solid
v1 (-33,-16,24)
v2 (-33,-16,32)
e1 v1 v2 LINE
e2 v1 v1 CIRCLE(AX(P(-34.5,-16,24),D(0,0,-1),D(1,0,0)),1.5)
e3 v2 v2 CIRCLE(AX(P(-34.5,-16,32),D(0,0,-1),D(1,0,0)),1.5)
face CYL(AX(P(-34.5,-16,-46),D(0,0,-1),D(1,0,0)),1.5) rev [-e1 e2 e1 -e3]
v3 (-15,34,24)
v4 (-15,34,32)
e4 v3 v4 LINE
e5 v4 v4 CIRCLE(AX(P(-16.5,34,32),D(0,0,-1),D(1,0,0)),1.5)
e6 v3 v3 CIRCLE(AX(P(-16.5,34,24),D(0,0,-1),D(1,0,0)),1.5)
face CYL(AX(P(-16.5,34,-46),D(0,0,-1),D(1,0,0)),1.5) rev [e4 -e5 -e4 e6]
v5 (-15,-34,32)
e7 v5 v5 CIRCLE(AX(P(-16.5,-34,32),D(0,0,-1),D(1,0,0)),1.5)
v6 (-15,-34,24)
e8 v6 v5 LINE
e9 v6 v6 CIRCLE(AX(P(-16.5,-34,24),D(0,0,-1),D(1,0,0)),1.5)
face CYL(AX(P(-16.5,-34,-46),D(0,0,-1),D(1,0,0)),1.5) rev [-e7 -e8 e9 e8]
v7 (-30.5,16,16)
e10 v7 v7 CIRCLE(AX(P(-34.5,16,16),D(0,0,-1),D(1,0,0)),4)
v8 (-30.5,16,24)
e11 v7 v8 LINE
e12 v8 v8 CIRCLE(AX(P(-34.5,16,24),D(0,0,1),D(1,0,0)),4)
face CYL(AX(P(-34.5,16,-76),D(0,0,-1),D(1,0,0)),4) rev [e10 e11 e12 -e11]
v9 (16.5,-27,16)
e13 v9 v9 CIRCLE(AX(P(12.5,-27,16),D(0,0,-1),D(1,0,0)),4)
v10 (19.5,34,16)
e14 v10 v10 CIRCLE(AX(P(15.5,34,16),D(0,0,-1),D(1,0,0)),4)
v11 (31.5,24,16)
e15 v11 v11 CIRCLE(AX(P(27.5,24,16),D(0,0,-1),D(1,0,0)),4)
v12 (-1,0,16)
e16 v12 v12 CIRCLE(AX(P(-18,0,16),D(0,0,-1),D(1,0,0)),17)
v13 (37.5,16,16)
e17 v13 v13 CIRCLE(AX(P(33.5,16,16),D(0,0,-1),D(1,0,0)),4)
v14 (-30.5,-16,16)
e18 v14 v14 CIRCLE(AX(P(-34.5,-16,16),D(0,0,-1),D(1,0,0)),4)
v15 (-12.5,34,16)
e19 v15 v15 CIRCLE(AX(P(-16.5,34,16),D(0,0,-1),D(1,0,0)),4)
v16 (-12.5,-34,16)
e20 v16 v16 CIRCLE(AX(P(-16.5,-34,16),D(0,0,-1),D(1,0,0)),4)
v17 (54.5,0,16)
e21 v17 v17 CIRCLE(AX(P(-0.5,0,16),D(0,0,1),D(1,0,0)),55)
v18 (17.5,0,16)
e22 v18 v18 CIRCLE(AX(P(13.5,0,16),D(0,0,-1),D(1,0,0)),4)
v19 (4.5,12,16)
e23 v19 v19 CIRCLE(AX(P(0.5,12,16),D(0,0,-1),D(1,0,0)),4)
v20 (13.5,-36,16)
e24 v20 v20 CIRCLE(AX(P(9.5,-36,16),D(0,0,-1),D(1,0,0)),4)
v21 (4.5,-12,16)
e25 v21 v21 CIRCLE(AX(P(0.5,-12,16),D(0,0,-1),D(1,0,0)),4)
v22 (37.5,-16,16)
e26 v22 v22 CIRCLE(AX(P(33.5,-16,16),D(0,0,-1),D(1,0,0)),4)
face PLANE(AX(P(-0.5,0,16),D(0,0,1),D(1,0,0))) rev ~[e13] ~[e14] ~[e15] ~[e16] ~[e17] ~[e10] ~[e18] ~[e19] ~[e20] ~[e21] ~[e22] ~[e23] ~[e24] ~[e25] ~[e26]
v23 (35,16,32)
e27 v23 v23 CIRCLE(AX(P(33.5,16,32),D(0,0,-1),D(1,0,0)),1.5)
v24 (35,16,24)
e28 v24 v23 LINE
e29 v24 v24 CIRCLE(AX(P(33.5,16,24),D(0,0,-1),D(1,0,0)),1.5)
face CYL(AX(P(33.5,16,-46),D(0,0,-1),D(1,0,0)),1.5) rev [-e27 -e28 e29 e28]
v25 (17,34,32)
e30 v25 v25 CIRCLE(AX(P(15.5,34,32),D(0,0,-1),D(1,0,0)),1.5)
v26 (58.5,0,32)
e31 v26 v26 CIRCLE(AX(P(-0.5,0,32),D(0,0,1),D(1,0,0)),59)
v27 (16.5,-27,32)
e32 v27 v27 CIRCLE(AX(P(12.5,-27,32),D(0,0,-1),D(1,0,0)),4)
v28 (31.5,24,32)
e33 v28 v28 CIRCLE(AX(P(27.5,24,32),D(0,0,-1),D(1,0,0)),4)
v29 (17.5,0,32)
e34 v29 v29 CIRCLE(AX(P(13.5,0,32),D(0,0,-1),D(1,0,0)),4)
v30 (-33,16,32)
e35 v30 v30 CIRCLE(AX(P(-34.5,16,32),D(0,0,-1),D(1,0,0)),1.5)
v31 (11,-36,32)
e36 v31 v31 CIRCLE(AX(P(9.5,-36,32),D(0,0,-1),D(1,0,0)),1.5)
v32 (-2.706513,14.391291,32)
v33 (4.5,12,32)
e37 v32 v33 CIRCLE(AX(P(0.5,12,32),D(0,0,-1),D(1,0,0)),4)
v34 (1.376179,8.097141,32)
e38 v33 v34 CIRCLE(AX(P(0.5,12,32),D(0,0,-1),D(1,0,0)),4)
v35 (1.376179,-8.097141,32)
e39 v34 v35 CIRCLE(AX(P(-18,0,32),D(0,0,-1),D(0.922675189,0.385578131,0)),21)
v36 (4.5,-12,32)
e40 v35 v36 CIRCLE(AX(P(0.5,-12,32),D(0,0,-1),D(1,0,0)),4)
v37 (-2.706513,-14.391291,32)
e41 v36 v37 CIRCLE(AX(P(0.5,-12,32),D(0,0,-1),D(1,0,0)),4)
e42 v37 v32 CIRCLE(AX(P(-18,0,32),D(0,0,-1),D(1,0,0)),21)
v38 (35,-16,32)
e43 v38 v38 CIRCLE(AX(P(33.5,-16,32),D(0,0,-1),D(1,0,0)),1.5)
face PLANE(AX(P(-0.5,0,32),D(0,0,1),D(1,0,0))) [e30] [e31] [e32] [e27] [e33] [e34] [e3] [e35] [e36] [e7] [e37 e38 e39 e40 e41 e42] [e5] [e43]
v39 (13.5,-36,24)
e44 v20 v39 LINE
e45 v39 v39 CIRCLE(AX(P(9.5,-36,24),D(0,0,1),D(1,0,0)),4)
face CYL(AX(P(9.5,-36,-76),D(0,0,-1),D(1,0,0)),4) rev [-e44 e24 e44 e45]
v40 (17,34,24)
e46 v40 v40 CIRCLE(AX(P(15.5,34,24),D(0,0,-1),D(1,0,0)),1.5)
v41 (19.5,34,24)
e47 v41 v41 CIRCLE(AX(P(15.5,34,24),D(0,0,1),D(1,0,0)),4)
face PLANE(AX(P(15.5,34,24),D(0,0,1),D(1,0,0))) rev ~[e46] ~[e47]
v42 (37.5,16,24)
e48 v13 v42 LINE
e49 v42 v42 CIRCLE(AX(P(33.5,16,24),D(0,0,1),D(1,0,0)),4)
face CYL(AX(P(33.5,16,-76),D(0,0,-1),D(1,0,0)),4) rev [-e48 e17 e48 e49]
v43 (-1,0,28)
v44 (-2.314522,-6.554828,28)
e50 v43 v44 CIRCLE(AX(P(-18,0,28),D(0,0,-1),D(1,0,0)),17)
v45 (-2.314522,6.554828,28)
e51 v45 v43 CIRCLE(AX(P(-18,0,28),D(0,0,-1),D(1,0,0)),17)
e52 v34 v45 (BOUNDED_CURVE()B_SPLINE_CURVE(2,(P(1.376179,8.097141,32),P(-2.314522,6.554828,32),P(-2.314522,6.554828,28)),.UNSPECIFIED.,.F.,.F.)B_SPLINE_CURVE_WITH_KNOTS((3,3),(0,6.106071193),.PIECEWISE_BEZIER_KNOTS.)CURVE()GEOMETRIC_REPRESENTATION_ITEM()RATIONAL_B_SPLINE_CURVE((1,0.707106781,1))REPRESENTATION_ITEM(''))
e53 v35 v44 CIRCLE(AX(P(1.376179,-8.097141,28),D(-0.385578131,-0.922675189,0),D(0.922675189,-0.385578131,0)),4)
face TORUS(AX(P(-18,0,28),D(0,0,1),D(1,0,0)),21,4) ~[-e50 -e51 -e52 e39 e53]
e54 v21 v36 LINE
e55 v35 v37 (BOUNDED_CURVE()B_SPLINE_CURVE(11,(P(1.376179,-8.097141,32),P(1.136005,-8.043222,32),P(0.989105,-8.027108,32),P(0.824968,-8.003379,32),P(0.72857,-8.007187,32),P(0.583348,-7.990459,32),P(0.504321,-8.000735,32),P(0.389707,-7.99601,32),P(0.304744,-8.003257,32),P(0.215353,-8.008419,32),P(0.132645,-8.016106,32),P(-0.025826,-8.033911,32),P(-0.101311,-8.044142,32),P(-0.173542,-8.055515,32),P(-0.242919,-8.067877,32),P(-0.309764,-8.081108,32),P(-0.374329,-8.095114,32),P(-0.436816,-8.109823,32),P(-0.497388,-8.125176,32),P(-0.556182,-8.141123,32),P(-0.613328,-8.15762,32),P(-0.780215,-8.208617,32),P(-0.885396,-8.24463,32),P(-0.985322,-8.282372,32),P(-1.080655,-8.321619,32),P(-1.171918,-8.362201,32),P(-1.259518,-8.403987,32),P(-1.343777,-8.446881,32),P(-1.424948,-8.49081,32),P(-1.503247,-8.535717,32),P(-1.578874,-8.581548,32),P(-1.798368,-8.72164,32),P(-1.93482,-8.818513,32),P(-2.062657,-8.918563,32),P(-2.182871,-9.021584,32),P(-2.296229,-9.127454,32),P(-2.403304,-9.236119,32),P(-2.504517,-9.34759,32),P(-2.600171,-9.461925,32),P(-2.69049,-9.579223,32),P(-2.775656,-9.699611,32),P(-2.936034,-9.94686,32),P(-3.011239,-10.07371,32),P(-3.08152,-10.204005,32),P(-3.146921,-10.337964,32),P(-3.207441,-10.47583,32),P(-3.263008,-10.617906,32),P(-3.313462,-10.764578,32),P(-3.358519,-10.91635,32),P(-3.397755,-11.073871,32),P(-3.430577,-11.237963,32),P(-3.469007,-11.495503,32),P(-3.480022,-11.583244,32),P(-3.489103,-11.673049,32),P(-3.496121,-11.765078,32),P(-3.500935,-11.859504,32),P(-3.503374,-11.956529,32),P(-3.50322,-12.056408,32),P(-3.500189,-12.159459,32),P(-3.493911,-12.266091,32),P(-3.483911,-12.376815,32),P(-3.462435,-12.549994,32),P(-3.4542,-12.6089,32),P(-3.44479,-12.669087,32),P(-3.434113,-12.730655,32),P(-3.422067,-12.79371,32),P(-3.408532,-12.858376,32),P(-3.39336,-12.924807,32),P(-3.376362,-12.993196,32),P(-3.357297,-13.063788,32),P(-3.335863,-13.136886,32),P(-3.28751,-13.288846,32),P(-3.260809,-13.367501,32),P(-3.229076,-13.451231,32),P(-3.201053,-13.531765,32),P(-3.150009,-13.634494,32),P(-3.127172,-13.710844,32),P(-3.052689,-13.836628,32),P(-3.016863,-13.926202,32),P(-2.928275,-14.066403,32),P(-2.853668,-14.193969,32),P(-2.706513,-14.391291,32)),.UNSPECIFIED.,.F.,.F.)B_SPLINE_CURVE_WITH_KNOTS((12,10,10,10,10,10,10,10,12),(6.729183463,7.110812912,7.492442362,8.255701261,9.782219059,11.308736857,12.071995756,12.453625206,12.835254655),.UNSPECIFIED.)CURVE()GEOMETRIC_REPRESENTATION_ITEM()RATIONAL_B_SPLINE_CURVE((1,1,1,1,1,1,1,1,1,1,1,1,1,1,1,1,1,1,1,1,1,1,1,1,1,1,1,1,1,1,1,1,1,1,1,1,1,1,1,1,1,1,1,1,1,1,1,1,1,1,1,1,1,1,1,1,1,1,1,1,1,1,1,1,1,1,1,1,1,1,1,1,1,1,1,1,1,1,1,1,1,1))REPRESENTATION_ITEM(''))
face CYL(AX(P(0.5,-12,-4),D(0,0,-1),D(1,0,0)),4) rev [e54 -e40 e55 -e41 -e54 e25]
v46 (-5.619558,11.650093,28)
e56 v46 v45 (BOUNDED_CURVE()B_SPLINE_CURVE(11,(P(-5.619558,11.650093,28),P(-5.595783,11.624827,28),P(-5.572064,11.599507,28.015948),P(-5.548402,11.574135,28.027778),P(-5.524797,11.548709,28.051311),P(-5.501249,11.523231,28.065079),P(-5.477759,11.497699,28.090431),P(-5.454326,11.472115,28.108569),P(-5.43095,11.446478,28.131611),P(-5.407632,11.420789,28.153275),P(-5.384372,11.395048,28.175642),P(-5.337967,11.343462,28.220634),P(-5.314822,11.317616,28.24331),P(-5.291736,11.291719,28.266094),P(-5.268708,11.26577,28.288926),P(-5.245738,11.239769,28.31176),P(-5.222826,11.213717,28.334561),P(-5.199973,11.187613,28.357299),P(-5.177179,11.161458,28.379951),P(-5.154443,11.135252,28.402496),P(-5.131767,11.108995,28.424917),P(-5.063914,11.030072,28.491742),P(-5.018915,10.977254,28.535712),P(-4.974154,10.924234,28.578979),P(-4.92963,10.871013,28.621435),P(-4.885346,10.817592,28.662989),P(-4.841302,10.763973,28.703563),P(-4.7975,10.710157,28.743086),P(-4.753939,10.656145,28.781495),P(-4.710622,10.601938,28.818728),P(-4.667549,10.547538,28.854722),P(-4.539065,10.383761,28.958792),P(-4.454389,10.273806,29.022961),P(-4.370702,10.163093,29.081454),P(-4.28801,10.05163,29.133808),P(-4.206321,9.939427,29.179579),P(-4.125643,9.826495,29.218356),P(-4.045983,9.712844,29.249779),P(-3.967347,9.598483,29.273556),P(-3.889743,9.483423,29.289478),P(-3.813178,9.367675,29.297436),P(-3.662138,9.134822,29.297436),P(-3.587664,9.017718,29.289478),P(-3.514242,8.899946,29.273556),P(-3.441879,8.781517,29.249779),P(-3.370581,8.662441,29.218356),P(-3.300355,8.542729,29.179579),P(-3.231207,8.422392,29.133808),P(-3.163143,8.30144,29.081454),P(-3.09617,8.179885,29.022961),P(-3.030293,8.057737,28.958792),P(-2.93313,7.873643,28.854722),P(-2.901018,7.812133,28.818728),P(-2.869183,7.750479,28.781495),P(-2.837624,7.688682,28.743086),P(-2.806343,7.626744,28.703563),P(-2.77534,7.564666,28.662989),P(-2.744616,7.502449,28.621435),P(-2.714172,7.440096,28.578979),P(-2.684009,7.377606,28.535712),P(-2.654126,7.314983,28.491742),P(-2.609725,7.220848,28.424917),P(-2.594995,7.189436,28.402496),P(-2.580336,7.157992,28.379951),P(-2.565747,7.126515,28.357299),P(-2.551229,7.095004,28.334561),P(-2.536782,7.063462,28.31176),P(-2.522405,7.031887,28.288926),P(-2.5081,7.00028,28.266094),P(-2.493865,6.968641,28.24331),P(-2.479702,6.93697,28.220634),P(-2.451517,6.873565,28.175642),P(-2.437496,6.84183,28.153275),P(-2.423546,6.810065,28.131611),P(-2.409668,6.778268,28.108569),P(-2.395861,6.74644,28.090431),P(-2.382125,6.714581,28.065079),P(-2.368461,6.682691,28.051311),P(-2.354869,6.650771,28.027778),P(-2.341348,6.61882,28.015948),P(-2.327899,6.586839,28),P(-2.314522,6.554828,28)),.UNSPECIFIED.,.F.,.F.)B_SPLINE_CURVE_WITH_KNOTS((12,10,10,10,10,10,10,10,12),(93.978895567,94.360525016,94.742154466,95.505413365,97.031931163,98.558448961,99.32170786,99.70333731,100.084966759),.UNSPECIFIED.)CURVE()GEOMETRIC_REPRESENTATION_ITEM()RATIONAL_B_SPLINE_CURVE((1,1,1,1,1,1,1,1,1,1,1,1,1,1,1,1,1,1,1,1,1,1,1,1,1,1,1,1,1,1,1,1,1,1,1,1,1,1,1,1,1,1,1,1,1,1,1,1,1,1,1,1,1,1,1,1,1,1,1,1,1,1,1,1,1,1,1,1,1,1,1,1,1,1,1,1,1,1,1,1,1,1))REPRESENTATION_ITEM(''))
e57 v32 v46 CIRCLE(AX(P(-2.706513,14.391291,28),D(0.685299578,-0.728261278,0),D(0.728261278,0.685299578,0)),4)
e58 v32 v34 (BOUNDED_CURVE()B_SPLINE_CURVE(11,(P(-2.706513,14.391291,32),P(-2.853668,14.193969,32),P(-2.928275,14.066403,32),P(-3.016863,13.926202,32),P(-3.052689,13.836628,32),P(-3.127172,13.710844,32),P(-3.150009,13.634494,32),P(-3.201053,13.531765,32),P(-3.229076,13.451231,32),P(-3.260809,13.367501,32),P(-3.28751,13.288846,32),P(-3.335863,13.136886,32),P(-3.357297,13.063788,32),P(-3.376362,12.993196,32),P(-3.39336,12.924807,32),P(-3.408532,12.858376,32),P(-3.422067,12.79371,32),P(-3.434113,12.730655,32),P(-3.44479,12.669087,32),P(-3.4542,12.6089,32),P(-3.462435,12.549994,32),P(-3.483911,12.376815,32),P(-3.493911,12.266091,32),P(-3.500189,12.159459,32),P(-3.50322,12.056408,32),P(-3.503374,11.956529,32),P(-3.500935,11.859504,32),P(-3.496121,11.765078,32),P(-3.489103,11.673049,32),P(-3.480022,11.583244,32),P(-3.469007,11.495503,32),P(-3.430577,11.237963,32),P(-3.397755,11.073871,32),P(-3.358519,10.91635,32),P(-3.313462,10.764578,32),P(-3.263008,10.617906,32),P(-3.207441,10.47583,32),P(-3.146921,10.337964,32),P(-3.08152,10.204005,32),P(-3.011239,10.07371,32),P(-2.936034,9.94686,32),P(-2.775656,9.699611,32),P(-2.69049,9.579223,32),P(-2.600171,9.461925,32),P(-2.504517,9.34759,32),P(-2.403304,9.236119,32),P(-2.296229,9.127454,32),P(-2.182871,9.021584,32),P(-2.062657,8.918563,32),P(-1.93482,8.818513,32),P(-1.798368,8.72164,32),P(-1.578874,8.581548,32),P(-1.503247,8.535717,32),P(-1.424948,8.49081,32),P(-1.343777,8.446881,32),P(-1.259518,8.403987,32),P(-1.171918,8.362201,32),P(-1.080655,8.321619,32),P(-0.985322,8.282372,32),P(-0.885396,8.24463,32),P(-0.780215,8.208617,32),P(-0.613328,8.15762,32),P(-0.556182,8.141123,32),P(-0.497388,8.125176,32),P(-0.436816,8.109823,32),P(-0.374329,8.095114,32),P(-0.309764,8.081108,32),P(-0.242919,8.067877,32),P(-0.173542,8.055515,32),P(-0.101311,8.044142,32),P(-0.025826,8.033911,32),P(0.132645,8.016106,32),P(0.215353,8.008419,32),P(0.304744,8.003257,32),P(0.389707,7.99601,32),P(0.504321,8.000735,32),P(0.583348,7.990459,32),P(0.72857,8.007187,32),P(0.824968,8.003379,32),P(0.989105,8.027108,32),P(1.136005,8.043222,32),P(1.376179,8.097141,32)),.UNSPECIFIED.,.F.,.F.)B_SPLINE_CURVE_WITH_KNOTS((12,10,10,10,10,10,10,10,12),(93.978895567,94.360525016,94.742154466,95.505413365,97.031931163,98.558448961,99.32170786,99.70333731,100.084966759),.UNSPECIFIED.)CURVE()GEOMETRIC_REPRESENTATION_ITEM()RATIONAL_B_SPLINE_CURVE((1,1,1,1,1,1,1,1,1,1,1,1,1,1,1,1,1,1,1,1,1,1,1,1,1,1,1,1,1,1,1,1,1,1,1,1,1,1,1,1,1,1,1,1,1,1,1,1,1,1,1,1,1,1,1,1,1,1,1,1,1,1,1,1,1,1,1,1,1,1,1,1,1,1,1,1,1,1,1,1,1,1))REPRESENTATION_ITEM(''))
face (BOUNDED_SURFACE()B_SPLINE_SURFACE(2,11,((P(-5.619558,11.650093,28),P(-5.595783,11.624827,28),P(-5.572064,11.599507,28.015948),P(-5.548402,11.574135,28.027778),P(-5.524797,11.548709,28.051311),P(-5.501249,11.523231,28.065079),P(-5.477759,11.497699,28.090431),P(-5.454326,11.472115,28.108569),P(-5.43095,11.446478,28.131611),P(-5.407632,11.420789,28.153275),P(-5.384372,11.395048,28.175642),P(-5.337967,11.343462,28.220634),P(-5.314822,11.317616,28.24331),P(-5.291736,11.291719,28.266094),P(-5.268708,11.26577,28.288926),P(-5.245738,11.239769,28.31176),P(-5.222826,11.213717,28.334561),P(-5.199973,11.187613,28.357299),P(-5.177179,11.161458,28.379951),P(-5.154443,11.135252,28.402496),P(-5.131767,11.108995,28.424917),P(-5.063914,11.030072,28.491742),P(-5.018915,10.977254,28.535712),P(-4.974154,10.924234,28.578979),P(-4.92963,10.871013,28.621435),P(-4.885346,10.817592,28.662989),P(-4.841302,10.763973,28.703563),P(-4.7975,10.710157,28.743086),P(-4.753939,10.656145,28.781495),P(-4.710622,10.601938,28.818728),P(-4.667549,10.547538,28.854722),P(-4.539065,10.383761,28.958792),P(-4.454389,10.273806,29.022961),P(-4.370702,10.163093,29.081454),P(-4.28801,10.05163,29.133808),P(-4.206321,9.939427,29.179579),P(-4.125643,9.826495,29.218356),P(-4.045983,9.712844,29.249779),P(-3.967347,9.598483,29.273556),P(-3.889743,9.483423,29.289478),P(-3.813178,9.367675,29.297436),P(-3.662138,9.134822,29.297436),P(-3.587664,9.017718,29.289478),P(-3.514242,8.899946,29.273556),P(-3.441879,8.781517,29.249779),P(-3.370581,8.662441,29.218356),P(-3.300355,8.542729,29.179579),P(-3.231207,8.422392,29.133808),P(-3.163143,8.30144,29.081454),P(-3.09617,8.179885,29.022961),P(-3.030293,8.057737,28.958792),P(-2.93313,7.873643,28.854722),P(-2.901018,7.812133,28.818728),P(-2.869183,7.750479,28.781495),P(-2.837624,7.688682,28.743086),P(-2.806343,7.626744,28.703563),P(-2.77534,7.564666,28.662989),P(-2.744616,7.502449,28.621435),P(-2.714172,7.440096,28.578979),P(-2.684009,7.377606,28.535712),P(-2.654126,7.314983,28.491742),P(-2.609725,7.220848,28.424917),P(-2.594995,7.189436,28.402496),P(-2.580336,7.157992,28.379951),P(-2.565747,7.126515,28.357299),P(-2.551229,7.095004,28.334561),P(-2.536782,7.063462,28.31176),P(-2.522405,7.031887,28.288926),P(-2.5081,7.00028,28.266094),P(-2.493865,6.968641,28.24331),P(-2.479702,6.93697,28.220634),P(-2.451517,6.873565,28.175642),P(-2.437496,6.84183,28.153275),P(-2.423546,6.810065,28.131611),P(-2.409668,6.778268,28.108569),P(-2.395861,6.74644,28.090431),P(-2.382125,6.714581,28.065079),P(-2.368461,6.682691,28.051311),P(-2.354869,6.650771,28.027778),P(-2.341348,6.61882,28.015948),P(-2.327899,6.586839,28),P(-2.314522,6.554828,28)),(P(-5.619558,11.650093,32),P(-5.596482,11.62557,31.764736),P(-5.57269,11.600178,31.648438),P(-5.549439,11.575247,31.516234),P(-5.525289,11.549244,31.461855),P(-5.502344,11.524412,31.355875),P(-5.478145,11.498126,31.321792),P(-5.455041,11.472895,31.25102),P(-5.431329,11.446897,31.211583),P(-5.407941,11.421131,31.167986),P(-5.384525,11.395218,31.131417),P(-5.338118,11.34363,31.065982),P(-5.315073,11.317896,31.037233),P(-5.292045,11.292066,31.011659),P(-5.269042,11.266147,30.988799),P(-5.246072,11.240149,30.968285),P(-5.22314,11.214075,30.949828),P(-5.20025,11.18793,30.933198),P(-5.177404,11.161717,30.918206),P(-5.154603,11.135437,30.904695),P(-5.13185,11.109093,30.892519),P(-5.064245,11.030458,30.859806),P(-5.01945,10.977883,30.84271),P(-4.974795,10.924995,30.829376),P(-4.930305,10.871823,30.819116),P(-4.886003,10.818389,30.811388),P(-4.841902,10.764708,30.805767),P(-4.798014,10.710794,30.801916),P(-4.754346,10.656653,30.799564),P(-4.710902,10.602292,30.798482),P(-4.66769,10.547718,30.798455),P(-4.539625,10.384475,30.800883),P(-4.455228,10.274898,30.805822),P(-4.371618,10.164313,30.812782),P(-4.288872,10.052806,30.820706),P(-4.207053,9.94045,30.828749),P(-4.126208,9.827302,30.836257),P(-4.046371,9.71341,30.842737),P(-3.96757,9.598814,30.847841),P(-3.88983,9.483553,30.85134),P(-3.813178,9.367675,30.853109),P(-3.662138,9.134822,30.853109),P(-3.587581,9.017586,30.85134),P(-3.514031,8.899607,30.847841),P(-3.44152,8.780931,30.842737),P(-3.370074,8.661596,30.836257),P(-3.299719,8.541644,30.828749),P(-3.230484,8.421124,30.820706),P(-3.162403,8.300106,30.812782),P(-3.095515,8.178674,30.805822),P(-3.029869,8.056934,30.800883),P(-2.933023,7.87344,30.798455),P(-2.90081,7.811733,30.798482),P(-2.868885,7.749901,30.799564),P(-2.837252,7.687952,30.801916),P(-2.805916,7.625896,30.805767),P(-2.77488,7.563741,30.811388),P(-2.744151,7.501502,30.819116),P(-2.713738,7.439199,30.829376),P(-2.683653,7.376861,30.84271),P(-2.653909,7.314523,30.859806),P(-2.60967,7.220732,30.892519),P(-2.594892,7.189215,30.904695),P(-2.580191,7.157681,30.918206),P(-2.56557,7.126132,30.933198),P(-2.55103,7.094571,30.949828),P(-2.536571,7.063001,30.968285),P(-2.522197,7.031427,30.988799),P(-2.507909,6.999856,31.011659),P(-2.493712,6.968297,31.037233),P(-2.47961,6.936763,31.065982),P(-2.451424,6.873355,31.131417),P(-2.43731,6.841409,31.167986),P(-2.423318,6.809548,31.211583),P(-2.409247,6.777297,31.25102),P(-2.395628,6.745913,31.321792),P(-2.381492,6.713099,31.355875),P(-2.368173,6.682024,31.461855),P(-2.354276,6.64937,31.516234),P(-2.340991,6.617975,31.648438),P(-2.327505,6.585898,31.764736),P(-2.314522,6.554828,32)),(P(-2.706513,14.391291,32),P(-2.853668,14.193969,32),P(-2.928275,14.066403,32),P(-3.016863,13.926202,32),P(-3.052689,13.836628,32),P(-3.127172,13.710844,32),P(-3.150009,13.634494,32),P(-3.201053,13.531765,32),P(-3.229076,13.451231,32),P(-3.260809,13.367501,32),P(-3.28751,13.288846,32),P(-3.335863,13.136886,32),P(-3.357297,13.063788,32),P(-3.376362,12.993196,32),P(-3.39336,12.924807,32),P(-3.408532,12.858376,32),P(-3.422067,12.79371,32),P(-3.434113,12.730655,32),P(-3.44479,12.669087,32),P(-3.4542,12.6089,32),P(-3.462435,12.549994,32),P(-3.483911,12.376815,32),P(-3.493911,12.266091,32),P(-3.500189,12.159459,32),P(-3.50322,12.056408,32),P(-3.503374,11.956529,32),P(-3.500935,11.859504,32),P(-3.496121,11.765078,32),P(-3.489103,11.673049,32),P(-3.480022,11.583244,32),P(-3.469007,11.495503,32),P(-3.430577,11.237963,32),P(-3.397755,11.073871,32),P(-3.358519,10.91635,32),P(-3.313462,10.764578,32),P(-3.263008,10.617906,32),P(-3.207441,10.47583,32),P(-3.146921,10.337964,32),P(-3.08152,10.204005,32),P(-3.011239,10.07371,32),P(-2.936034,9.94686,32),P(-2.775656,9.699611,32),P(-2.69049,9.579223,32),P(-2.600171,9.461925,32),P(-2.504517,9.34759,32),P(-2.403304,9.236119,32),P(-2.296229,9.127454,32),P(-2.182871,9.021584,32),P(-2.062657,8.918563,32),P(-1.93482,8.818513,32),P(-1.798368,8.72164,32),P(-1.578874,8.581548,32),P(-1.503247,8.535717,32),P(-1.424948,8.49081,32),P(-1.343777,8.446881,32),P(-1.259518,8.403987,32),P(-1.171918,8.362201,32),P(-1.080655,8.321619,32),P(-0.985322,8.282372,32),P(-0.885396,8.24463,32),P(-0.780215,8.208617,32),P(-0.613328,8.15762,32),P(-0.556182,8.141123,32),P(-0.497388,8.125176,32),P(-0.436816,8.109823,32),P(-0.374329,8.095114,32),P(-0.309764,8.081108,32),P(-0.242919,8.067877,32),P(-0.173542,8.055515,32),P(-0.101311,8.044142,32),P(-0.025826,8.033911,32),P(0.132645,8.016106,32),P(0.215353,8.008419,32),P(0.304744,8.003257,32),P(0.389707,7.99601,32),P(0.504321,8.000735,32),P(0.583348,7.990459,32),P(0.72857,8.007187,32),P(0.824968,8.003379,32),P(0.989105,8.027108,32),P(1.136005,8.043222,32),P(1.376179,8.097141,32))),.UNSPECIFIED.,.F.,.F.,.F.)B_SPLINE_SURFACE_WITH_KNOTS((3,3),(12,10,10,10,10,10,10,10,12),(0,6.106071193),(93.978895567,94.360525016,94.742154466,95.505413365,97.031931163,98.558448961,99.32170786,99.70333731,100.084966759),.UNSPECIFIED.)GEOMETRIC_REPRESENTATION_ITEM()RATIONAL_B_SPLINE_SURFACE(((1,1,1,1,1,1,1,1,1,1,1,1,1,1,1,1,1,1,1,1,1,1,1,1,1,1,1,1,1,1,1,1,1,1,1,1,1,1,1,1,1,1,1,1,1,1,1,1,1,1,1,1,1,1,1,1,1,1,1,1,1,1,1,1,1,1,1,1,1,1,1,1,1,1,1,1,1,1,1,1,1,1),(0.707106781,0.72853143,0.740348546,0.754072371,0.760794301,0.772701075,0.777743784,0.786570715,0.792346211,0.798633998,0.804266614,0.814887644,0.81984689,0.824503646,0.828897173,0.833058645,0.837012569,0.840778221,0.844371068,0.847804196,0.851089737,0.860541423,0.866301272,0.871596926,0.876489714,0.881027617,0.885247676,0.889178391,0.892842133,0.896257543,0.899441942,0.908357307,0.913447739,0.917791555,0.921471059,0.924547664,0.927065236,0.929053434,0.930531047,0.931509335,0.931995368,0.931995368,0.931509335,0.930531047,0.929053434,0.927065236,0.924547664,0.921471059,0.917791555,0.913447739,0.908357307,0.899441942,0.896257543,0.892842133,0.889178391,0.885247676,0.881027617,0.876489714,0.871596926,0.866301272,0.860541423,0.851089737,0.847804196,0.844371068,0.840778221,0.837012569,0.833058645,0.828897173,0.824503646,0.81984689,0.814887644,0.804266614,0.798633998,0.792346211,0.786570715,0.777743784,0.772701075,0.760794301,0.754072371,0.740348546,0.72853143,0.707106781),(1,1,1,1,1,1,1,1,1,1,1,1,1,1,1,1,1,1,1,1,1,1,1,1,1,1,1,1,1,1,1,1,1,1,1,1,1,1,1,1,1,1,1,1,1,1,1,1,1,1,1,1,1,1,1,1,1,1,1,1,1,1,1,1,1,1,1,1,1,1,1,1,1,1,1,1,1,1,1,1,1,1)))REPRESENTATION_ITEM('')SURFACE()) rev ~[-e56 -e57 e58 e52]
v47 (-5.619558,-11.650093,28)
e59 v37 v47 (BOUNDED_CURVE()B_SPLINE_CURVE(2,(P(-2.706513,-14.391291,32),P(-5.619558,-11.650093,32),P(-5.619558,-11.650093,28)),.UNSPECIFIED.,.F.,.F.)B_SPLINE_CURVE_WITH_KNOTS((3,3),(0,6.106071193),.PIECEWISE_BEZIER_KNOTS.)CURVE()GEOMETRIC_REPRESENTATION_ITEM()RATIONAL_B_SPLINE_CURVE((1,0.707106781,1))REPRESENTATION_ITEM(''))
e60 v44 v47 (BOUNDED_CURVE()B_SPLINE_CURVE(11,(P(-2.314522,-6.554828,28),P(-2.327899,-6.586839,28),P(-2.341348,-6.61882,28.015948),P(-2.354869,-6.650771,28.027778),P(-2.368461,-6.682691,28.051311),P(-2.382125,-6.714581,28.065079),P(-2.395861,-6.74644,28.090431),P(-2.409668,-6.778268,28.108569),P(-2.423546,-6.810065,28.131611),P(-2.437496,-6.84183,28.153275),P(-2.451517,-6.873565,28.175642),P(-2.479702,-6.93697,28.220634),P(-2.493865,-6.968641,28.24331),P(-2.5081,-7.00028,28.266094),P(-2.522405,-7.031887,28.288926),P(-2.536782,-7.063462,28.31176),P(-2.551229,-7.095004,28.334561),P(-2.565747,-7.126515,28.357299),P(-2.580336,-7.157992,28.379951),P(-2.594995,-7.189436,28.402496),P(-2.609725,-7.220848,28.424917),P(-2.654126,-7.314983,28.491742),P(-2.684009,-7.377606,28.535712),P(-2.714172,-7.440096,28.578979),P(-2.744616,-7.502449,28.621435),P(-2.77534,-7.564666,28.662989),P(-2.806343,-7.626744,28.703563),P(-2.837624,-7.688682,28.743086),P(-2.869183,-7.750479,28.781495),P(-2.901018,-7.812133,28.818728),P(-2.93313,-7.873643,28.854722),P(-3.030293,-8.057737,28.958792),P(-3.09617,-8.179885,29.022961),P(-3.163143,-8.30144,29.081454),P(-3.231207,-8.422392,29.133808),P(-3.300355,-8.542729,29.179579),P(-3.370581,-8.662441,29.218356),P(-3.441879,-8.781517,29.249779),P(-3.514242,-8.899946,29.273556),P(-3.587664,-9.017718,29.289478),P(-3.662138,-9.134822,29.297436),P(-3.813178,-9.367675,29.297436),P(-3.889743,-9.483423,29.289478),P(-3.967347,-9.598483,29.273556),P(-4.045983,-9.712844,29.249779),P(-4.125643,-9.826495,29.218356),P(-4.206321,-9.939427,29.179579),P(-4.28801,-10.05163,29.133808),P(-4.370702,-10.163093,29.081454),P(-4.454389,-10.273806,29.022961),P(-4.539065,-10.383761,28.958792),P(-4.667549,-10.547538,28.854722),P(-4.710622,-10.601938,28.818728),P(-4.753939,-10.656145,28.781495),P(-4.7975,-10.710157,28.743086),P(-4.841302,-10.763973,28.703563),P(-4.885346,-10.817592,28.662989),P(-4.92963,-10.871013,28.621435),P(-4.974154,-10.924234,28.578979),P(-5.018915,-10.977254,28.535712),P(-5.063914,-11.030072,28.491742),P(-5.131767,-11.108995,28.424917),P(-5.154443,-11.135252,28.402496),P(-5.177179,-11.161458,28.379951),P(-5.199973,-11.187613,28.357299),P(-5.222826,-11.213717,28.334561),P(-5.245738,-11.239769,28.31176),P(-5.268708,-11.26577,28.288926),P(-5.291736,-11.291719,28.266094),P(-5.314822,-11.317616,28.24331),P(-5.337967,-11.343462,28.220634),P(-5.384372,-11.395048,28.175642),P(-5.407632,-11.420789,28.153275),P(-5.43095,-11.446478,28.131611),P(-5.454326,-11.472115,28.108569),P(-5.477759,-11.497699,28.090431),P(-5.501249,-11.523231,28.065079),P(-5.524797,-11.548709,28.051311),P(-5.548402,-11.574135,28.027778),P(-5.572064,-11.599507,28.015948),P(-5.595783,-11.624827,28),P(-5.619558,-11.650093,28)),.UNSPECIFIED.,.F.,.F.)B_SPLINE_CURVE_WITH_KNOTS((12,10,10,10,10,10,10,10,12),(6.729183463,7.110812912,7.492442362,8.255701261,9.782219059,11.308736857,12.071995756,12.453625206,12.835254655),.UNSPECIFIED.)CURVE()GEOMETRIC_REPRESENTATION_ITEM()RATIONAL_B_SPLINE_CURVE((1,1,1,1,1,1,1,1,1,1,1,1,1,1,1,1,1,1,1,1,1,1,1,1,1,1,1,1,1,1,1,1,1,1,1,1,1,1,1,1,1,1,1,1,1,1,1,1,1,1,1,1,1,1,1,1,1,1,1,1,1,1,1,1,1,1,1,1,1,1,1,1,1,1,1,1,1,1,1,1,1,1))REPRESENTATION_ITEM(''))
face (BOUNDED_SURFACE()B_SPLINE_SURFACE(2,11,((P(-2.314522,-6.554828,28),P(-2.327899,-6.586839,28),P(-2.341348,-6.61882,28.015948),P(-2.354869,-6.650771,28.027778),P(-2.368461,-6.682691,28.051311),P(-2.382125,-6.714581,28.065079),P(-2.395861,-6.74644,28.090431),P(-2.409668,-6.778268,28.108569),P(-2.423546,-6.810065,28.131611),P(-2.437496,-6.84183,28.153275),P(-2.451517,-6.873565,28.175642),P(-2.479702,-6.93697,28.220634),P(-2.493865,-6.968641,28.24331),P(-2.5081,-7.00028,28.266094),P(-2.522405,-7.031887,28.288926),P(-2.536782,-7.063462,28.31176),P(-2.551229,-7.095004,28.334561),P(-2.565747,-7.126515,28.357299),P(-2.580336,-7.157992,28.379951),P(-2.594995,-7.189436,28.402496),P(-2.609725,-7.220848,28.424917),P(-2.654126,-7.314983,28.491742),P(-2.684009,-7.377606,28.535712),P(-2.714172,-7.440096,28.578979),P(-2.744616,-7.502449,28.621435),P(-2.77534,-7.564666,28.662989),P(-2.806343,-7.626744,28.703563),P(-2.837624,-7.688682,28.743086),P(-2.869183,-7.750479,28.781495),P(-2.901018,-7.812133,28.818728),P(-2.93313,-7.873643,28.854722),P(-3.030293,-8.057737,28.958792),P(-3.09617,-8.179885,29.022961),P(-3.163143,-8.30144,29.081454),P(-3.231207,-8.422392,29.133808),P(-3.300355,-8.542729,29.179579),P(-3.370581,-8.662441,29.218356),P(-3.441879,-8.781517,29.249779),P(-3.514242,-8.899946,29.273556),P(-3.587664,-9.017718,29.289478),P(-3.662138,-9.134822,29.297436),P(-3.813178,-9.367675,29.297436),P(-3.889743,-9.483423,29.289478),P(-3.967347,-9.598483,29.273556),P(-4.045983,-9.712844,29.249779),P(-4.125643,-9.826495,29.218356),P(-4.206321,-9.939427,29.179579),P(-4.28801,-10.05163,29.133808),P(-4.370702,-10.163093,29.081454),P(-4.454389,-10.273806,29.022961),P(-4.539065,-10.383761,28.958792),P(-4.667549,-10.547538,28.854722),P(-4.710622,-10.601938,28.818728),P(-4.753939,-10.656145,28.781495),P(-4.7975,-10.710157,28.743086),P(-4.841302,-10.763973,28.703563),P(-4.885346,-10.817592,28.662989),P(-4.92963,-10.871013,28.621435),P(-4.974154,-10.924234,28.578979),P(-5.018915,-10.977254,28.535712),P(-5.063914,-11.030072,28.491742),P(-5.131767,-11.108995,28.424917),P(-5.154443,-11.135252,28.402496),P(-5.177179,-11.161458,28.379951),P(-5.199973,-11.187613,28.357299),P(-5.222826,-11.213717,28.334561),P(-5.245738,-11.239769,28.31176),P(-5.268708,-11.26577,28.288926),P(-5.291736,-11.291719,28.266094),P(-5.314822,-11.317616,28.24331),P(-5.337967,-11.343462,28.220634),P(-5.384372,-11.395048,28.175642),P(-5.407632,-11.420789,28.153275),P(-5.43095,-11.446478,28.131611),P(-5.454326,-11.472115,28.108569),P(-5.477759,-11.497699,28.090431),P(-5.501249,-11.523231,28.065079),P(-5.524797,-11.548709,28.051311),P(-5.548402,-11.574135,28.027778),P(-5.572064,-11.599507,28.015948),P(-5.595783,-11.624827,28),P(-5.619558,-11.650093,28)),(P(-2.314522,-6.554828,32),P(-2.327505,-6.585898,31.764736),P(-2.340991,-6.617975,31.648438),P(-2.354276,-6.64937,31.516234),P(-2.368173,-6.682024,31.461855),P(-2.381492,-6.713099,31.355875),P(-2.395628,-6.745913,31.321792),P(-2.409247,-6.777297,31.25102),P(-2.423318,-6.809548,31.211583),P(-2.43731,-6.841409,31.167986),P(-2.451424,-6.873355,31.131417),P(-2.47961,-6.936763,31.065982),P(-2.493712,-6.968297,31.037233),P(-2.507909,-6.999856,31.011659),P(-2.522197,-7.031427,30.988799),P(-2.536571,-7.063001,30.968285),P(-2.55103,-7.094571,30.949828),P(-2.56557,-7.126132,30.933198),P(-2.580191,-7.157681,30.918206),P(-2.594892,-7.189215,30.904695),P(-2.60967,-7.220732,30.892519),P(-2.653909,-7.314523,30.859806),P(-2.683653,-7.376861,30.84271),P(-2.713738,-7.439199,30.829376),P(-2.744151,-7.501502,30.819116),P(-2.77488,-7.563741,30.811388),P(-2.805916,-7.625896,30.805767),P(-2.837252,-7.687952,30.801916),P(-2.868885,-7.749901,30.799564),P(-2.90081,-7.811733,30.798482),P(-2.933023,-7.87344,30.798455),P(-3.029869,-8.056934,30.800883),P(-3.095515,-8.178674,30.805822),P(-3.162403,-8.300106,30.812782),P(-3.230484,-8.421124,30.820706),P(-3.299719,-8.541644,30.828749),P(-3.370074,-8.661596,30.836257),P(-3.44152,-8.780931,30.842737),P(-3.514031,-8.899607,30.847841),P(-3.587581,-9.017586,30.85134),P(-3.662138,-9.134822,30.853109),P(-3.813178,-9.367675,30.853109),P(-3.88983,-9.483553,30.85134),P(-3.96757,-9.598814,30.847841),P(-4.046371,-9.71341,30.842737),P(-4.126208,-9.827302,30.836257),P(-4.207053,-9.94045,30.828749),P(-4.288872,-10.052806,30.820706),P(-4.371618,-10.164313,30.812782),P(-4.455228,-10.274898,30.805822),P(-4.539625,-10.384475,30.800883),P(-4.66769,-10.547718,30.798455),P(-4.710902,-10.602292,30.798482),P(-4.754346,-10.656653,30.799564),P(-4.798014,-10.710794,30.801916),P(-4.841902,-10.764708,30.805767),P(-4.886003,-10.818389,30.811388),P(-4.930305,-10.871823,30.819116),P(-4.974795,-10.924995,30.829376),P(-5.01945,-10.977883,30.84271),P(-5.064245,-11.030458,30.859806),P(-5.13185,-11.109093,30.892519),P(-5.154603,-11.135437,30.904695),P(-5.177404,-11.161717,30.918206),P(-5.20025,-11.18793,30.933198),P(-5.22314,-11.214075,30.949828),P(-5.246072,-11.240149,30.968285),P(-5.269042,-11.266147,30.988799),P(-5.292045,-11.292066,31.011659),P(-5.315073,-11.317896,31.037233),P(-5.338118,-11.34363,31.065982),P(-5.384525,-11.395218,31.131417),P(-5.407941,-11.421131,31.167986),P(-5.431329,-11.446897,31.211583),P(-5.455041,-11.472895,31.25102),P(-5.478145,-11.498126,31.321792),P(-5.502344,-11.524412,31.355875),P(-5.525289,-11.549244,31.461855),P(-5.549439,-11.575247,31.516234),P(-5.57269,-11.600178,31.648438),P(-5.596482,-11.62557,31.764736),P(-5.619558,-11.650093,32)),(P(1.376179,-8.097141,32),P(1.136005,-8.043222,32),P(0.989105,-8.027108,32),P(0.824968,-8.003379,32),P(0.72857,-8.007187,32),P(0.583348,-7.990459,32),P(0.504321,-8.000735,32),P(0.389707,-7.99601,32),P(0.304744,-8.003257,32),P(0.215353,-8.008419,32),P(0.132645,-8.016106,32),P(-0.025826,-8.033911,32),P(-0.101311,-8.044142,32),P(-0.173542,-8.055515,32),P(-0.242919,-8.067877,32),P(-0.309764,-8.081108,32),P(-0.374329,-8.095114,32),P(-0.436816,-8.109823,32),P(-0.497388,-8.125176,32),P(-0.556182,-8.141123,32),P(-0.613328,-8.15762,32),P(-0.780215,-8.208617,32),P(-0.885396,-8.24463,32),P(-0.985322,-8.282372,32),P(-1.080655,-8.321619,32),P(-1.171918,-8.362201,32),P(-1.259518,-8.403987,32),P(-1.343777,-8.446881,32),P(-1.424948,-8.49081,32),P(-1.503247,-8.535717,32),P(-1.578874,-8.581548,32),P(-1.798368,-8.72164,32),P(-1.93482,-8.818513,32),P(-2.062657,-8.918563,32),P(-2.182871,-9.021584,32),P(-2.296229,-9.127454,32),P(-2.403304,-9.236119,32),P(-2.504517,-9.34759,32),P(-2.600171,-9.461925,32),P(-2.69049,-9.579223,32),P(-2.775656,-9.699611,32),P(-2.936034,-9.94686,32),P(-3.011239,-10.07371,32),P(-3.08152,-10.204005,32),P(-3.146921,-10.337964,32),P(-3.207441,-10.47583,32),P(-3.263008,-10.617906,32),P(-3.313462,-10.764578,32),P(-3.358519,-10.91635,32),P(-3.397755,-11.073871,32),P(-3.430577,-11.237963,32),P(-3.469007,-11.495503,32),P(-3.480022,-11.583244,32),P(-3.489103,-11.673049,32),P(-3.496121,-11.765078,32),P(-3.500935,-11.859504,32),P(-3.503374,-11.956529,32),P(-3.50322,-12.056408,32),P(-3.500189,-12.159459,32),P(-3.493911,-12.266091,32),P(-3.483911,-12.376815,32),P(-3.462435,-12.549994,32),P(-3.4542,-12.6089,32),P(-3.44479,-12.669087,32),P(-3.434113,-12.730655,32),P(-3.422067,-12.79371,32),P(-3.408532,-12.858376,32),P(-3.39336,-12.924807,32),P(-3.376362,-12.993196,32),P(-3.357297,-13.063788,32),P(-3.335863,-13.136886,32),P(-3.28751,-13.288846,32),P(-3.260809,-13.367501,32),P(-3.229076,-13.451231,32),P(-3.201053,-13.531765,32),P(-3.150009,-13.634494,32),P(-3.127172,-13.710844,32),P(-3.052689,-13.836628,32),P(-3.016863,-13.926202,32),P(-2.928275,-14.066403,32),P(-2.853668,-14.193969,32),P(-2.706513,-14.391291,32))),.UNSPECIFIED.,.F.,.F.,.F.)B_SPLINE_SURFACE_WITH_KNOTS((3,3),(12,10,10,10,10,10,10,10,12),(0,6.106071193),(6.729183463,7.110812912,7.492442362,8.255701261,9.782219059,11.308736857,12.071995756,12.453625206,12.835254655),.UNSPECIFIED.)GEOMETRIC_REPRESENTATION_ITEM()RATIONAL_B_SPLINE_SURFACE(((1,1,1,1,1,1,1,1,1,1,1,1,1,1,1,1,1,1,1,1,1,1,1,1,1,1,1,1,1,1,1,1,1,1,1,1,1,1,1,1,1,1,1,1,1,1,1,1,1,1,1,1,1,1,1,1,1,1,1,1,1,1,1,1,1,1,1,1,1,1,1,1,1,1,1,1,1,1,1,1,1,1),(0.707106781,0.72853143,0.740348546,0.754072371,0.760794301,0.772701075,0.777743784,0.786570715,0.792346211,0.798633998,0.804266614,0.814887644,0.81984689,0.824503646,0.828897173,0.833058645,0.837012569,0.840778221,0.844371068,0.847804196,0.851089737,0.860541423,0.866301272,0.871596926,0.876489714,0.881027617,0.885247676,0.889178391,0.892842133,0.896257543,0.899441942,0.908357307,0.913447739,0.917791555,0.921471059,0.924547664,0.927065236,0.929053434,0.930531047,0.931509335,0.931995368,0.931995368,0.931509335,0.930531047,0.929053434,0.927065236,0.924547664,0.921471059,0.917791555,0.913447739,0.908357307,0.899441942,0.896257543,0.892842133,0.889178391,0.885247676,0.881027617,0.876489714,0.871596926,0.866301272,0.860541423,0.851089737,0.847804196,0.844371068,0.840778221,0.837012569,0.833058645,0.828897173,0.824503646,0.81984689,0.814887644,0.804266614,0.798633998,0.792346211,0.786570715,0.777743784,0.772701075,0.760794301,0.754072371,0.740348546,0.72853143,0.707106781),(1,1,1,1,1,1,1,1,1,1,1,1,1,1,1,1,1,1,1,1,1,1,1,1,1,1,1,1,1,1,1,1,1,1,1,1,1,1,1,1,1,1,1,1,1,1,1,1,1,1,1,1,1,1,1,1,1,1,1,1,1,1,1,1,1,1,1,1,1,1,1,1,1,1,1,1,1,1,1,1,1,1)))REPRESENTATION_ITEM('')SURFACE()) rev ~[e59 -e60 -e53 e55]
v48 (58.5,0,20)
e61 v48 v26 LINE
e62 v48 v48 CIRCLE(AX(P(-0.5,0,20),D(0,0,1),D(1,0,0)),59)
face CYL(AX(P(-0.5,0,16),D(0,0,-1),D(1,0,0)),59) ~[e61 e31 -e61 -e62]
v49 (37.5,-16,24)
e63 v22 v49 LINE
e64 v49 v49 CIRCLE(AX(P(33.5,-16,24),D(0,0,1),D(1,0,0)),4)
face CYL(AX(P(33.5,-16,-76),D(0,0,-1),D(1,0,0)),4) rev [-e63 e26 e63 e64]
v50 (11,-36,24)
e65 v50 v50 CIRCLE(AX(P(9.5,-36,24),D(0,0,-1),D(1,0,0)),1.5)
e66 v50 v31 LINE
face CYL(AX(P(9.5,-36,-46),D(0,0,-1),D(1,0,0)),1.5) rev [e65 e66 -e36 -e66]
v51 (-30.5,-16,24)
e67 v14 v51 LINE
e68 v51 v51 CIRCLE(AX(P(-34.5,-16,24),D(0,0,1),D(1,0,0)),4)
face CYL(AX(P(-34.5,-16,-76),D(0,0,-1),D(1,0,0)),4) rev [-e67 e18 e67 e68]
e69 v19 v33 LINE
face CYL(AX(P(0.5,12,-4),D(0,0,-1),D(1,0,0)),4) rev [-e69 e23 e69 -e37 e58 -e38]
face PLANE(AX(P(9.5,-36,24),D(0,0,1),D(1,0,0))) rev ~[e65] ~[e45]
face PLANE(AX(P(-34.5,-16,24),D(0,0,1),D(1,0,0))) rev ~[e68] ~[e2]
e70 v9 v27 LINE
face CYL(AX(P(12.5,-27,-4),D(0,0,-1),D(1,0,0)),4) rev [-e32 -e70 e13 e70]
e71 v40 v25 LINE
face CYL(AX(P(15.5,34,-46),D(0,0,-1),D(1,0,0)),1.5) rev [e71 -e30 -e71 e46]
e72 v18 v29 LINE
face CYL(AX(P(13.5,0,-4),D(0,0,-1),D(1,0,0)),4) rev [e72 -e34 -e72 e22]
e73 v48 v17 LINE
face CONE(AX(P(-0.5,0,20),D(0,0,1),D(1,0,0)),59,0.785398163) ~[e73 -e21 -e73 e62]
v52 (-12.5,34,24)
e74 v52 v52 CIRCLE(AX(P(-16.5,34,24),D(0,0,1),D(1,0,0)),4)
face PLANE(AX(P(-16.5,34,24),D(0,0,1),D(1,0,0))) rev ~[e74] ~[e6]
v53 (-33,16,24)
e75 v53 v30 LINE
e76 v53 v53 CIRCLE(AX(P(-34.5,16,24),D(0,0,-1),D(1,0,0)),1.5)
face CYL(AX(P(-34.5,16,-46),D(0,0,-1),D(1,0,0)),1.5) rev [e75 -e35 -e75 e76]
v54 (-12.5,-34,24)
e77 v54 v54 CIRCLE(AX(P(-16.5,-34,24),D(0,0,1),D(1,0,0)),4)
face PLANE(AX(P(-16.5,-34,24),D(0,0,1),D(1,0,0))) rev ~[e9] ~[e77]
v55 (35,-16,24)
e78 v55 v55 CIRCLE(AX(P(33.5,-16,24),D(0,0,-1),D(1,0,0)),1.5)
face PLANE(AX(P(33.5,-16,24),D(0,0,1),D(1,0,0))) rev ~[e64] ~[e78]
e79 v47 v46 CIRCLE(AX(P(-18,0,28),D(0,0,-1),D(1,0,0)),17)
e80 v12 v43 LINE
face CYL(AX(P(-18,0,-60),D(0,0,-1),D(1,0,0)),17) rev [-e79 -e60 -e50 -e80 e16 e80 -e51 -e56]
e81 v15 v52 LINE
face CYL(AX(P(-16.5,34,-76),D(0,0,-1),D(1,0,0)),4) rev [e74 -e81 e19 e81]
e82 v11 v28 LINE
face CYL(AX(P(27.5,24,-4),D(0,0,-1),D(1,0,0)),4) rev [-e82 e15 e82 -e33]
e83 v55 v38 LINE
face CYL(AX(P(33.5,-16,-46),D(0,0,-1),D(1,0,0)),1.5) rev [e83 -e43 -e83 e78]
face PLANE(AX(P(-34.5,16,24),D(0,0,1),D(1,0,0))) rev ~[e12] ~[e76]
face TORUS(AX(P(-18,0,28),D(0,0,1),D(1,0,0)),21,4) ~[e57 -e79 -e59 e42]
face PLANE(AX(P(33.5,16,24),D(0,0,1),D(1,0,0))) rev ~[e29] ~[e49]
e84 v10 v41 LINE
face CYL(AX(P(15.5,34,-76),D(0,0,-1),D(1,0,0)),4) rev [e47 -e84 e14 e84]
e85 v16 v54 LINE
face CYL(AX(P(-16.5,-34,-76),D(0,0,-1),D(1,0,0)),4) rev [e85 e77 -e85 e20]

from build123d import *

# Parameters (mm, degrees)
CYLINDER1845_R     = 17
CYLINDER1845_DEPTH = 160
CYLINDER1789_R     = 4
CYLINDER1789_DEPTH = 100
CYLINDER1790_R     = 4
CYLINDER1790_DEPTH = 100
CYLINDER1809_R     = 1.5
CYLINDER1809_DEPTH = 100
CYLINDER1825_R     = 1.5
CYLINDER1825_DEPTH = 100
CYLINDER1824_R     = 1.5
CYLINDER1824_DEPTH = 100
CYLINDER1806_R     = 1.5
CYLINDER1806_DEPTH = 100
CYLINDER1805_R     = 1.5
CYLINDER1805_DEPTH = 100
CYLINDER1804_R     = 1.5
CYLINDER1804_DEPTH = 100
CYLINDER1803_R     = 1.5
CYLINDER1803_DEPTH = 100
CYLINDER1828_R     = 1.5
CYLINDER1828_DEPTH = 100
CYLINDER1826_R     = 4
CYLINDER1826_DEPTH = 100
CYLINDER1788_R     = 4
CYLINDER1788_DEPTH = 100
CYLINDER1787_R     = 4
CYLINDER1787_DEPTH = 100
CYLINDER1783_R     = 4
CYLINDER1783_DEPTH = 100
CYLINDER1785_R     = 4
CYLINDER1785_DEPTH = 100
CYLINDER1784_R     = 4
CYLINDER1784_DEPTH = 100
CYLINDER1786_R     = 4
CYLINDER1786_DEPTH = 100
CYLINDER1827_R     = 4
CYLINDER1827_DEPTH = 100
CYLINDER1797_R     = 4
CYLINDER1797_DEPTH = 20
CYLINDER1796_R     = 4
CYLINDER1796_DEPTH = 20
CYLINDER1795_R     = 4
CYLINDER1795_DEPTH = 20
CYLINDER1794_R     = 4
CYLINDER1794_DEPTH = 40
CYLINDER1793_R     = 4
CYLINDER1793_DEPTH = 40
CYLINDER1792_R     = 4
CYLINDER1792_DEPTH = 40
CYLINDER1791_R     = 4
CYLINDER1791_DEPTH = 40
CYLINDER1817_R     = 4
CYLINDER1817_DEPTH = 20
CYLINDER1798_R     = 59
CYLINDER1798_DEPTH = 16
CHAMFER061_SIZE    = 4
FILLET025_R        = 4


with BuildPart() as v_lec1845:
    # Cylinder1845 → Cylinder1845 (new body)
    with BuildSketch(Plane(origin=(-18, 0, -60), x_dir=(1, 0, 0), z_dir=(0, 0, 1))):
        Circle(CYLINDER1845_R)
    extrude(amount=CYLINDER1845_DEPTH)


with BuildPart() as v_lec1789:
    # Cylinder1789 → Cylinder1789 (new body)
    with BuildSketch(Plane(origin=(14, 0, -18), x_dir=(1, 0, 0), z_dir=(0, 0, 1))):
        Circle(CYLINDER1789_R)
    extrude(amount=CYLINDER1789_DEPTH)


with BuildPart() as srouby_troj_silne010:
    # Cylinder1790 → Cylinder1790 (new body)
    with BuildSketch(Plane(origin=(90, 0, -18), x_dir=(1, 0, 0), z_dir=(0, 0, 1))):
        Circle(CYLINDER1790_R)
    extrude(amount=CYLINDER1790_DEPTH)

    # Compound957: union Válec1789
    add(v_lec1789.part)


with BuildPart() as v_lec1809:
    # Cylinder1809 → Cylinder1809 (new body)
    with BuildSketch(Plane(origin=(-34, -16, -60), x_dir=(1, 0, 0), z_dir=(0, 0, 1))):
        Circle(CYLINDER1809_R)
    extrude(amount=CYLINDER1809_DEPTH)


with BuildPart() as v_lec1825:
    # Cylinder1825 → Cylinder1825 (new body)
    with BuildSketch(Plane(origin=(34, -16, -60), x_dir=(1, 0, 0), z_dir=(0, 0, 1))):
        Circle(CYLINDER1825_R)
    extrude(amount=CYLINDER1825_DEPTH)


with BuildPart() as v_lec1824:
    # Cylinder1824 → Cylinder1824 (new body)
    with BuildSketch(Plane(origin=(34, 16, -60), x_dir=(1, 0, 0), z_dir=(0, 0, 1))):
        Circle(CYLINDER1824_R)
    extrude(amount=CYLINDER1824_DEPTH)


with BuildPart() as v_lec1806:
    # Cylinder1806 → Cylinder1806 (new body)
    with BuildSketch(Plane(origin=(16, 34, -60), x_dir=(1, 0, 0), z_dir=(0, 0, 1))):
        Circle(CYLINDER1806_R)
    extrude(amount=CYLINDER1806_DEPTH)


with BuildPart() as v_lec1805:
    # Cylinder1805 → Cylinder1805 (new body)
    with BuildSketch(Plane(origin=(10, -36, -60), x_dir=(1, 0, 0), z_dir=(0, 0, 1))):
        Circle(CYLINDER1805_R)
    extrude(amount=CYLINDER1805_DEPTH)


with BuildPart() as v_lec1804:
    # Cylinder1804 → Cylinder1804 (new body)
    with BuildSketch(Plane(origin=(-16, -34, -60), x_dir=(1, 0, 0), z_dir=(0, 0, 1))):
        Circle(CYLINDER1804_R)
    extrude(amount=CYLINDER1804_DEPTH)


with BuildPart() as v_lec1803:
    # Cylinder1803 → Cylinder1803 (new body)
    with BuildSketch(Plane(origin=(-16, 34, -60), x_dir=(1, 0, 0), z_dir=(0, 0, 1))):
        Circle(CYLINDER1803_R)
    extrude(amount=CYLINDER1803_DEPTH)


with BuildPart() as sbouby_baze012:
    # Cylinder1828 → Cylinder1828 (new body)
    with BuildSketch(Plane(origin=(-34, 16, -60), x_dir=(1, 0, 0), z_dir=(0, 0, 1))):
        Circle(CYLINDER1828_R)
    extrude(amount=CYLINDER1828_DEPTH)

    # Compound954: union Válec1809, Válec1825, Válec1824, Válec1806, Válec1805, Válec1804, Válec1803
    add(v_lec1809.part)
    add(v_lec1825.part)
    add(v_lec1824.part)
    add(v_lec1806.part)
    add(v_lec1805.part)
    add(v_lec1804.part)
    add(v_lec1803.part)


with BuildPart() as v_lec1826:
    # Cylinder1826 → Cylinder1826 (new body)
    with BuildSketch(Plane(origin=(-16, 34, -90), x_dir=(1, 0, 0), z_dir=(0, 0, 1))):
        Circle(CYLINDER1826_R)
    extrude(amount=CYLINDER1826_DEPTH)


with BuildPart() as v_lec1788:
    # Cylinder1788 → Cylinder1788 (new body)
    with BuildSketch(Plane(origin=(-16, -34, -90), x_dir=(1, 0, 0), z_dir=(0, 0, 1))):
        Circle(CYLINDER1788_R)
    extrude(amount=CYLINDER1788_DEPTH)


with BuildPart() as v_lec1787:
    # Cylinder1787 → Cylinder1787 (new body)
    with BuildSketch(Plane(origin=(34, -16, -90), x_dir=(1, 0, 0), z_dir=(0, 0, 1))):
        Circle(CYLINDER1787_R)
    extrude(amount=CYLINDER1787_DEPTH)


with BuildPart() as v_lec1783:
    # Cylinder1783 → Cylinder1783 (new body)
    with BuildSketch(Plane(origin=(16, 34, -90), x_dir=(1, 0, 0), z_dir=(0, 0, 1))):
        Circle(CYLINDER1783_R)
    extrude(amount=CYLINDER1783_DEPTH)


with BuildPart() as v_lec1785:
    # Cylinder1785 → Cylinder1785 (new body)
    with BuildSketch(Plane(origin=(10, -36, -90), x_dir=(1, 0, 0), z_dir=(0, 0, 1))):
        Circle(CYLINDER1785_R)
    extrude(amount=CYLINDER1785_DEPTH)


with BuildPart() as v_lec1784:
    # Cylinder1784 → Cylinder1784 (new body)
    with BuildSketch(Plane(origin=(-34, 16, -90), x_dir=(1, 0, 0), z_dir=(0, 0, 1))):
        Circle(CYLINDER1784_R)
    extrude(amount=CYLINDER1784_DEPTH)


with BuildPart() as v_lec1786:
    # Cylinder1786 → Cylinder1786 (new body)
    with BuildSketch(Plane(origin=(34, 16, -90), x_dir=(1, 0, 0), z_dir=(0, 0, 1))):
        Circle(CYLINDER1786_R)
    extrude(amount=CYLINDER1786_DEPTH)


with BuildPart() as sbouby_baze_silne017:
    # Cylinder1827 → Cylinder1827 (new body)
    with BuildSketch(Plane(origin=(-34, -16, -90), x_dir=(1, 0, 0), z_dir=(0, 0, 1))):
        Circle(CYLINDER1827_R)
    extrude(amount=CYLINDER1827_DEPTH)

    # Compound956: union Válec1826, Válec1788, Válec1787, Válec1783, Válec1785, Válec1784, Válec1786
    add(v_lec1826.part)
    add(v_lec1788.part)
    add(v_lec1787.part)
    add(v_lec1783.part)
    add(v_lec1785.part)
    add(v_lec1784.part)
    add(v_lec1786.part)


with BuildPart() as v_lec1797:
    # Cylinder1797 → Cylinder1797 (new body)
    with BuildSketch(Plane(origin=(103, 12, -20), x_dir=(1, 0, 0), z_dir=(0, 0, 1))):
        Circle(CYLINDER1797_R)
    extrude(amount=CYLINDER1797_DEPTH)


with BuildPart() as v_lec1796:
    # Cylinder1796 → Cylinder1796 (new body)
    with BuildSketch(Plane(origin=(76, 24, -18), x_dir=(1, 0, 0), z_dir=(0, 0, 1))):
        Circle(CYLINDER1796_R)
    extrude(amount=CYLINDER1796_DEPTH)


with BuildPart() as v_lec1795:
    # Cylinder1795 → Cylinder1795 (new body)
    with BuildSketch(Plane(origin=(91, -27, -18), x_dir=(1, 0, 0), z_dir=(0, 0, 1))):
        Circle(CYLINDER1795_R)
    extrude(amount=CYLINDER1795_DEPTH)


with BuildPart() as v_lec1794:
    # Cylinder1794 → Cylinder1794 (new body)
    with BuildSketch(Plane(origin=(13, -27, -18), x_dir=(1, 0, 0), z_dir=(0, 0, 1))):
        Circle(CYLINDER1794_R)
    extrude(amount=CYLINDER1794_DEPTH)


with BuildPart() as v_lec1793:
    # Cylinder1793 → Cylinder1793 (new body)
    with BuildSketch(Plane(origin=(28, 24, -18), x_dir=(1, 0, 0), z_dir=(0, 0, 1))):
        Circle(CYLINDER1793_R)
    extrude(amount=CYLINDER1793_DEPTH)


with BuildPart() as v_lec1792:
    # Cylinder1792 → Cylinder1792 (new body)
    with BuildSketch(Plane(origin=(1, -12, -18), x_dir=(1, 0, 0), z_dir=(0, 0, 1))):
        Circle(CYLINDER1792_R)
    extrude(amount=CYLINDER1792_DEPTH)


with BuildPart() as v_lec1791:
    # Cylinder1791 → Cylinder1791 (new body)
    with BuildSketch(Plane(origin=(1, 12, -18), x_dir=(1, 0, 0), z_dir=(0, 0, 1))):
        Circle(CYLINDER1791_R)
    extrude(amount=CYLINDER1791_DEPTH)


with BuildPart() as srouby_monoblok_silne013:
    # Cylinder1817 → Cylinder1817 (new body)
    with BuildSketch(Plane(origin=(103, -12, -20), x_dir=(1, 0, 0), z_dir=(0, 0, 1))):
        Circle(CYLINDER1817_R)
    extrude(amount=CYLINDER1817_DEPTH)

    # Compound955: union Válec1797, Válec1796, Válec1795, Válec1794, Válec1793, Válec1792, Válec1791
    add(v_lec1797.part)
    add(v_lec1796.part)
    add(v_lec1795.part)
    add(v_lec1794.part)
    add(v_lec1793.part)
    add(v_lec1792.part)
    add(v_lec1791.part)


with BuildPart() as fillet025:
    # Cylinder1798 → Cylinder1798 (new body)
    with BuildSketch(Plane.XY.offset(2)):
        Circle(CYLINDER1798_R)
    extrude(amount=CYLINDER1798_DEPTH)

    # Cut614: cut srouby_monoblok_silne013
    add(srouby_monoblok_silne013.part, mode=Mode.SUBTRACT)

    # Cut615: cut sbouby_baze_silne017
    add(sbouby_baze_silne017.part, mode=Mode.SUBTRACT)

    # Cut619: cut sbouby_baze012
    add(sbouby_baze012.part, mode=Mode.SUBTRACT)

    # Chamfer061
    chamfer061_edges = [fillet025.edges().sort_by_distance(p)[0] for p in [
        (-59, 0, 2),
    ]]
    chamfer(chamfer061_edges, length=CHAMFER061_SIZE)

    # Cut620: cut srouby_troj_silne010
    add(srouby_troj_silne010.part, mode=Mode.SUBTRACT)


with BuildPart() as fillet025_1:
    # Cut620 placement: moved
    add(fillet025.part.moved(Location((-0.5, 0, 14))))

    # Cut613: cut Válec1845
    add(v_lec1845.part, mode=Mode.SUBTRACT)

    # Fillet025
    fillet025_edges = [fillet025_1.edges().sort_by_distance(p)[0] for p in [
        (-35, 0, 32),
    ]]
    fillet(fillet025_edges, radius=FILLET025_R)


solid = fillet025_1.part
